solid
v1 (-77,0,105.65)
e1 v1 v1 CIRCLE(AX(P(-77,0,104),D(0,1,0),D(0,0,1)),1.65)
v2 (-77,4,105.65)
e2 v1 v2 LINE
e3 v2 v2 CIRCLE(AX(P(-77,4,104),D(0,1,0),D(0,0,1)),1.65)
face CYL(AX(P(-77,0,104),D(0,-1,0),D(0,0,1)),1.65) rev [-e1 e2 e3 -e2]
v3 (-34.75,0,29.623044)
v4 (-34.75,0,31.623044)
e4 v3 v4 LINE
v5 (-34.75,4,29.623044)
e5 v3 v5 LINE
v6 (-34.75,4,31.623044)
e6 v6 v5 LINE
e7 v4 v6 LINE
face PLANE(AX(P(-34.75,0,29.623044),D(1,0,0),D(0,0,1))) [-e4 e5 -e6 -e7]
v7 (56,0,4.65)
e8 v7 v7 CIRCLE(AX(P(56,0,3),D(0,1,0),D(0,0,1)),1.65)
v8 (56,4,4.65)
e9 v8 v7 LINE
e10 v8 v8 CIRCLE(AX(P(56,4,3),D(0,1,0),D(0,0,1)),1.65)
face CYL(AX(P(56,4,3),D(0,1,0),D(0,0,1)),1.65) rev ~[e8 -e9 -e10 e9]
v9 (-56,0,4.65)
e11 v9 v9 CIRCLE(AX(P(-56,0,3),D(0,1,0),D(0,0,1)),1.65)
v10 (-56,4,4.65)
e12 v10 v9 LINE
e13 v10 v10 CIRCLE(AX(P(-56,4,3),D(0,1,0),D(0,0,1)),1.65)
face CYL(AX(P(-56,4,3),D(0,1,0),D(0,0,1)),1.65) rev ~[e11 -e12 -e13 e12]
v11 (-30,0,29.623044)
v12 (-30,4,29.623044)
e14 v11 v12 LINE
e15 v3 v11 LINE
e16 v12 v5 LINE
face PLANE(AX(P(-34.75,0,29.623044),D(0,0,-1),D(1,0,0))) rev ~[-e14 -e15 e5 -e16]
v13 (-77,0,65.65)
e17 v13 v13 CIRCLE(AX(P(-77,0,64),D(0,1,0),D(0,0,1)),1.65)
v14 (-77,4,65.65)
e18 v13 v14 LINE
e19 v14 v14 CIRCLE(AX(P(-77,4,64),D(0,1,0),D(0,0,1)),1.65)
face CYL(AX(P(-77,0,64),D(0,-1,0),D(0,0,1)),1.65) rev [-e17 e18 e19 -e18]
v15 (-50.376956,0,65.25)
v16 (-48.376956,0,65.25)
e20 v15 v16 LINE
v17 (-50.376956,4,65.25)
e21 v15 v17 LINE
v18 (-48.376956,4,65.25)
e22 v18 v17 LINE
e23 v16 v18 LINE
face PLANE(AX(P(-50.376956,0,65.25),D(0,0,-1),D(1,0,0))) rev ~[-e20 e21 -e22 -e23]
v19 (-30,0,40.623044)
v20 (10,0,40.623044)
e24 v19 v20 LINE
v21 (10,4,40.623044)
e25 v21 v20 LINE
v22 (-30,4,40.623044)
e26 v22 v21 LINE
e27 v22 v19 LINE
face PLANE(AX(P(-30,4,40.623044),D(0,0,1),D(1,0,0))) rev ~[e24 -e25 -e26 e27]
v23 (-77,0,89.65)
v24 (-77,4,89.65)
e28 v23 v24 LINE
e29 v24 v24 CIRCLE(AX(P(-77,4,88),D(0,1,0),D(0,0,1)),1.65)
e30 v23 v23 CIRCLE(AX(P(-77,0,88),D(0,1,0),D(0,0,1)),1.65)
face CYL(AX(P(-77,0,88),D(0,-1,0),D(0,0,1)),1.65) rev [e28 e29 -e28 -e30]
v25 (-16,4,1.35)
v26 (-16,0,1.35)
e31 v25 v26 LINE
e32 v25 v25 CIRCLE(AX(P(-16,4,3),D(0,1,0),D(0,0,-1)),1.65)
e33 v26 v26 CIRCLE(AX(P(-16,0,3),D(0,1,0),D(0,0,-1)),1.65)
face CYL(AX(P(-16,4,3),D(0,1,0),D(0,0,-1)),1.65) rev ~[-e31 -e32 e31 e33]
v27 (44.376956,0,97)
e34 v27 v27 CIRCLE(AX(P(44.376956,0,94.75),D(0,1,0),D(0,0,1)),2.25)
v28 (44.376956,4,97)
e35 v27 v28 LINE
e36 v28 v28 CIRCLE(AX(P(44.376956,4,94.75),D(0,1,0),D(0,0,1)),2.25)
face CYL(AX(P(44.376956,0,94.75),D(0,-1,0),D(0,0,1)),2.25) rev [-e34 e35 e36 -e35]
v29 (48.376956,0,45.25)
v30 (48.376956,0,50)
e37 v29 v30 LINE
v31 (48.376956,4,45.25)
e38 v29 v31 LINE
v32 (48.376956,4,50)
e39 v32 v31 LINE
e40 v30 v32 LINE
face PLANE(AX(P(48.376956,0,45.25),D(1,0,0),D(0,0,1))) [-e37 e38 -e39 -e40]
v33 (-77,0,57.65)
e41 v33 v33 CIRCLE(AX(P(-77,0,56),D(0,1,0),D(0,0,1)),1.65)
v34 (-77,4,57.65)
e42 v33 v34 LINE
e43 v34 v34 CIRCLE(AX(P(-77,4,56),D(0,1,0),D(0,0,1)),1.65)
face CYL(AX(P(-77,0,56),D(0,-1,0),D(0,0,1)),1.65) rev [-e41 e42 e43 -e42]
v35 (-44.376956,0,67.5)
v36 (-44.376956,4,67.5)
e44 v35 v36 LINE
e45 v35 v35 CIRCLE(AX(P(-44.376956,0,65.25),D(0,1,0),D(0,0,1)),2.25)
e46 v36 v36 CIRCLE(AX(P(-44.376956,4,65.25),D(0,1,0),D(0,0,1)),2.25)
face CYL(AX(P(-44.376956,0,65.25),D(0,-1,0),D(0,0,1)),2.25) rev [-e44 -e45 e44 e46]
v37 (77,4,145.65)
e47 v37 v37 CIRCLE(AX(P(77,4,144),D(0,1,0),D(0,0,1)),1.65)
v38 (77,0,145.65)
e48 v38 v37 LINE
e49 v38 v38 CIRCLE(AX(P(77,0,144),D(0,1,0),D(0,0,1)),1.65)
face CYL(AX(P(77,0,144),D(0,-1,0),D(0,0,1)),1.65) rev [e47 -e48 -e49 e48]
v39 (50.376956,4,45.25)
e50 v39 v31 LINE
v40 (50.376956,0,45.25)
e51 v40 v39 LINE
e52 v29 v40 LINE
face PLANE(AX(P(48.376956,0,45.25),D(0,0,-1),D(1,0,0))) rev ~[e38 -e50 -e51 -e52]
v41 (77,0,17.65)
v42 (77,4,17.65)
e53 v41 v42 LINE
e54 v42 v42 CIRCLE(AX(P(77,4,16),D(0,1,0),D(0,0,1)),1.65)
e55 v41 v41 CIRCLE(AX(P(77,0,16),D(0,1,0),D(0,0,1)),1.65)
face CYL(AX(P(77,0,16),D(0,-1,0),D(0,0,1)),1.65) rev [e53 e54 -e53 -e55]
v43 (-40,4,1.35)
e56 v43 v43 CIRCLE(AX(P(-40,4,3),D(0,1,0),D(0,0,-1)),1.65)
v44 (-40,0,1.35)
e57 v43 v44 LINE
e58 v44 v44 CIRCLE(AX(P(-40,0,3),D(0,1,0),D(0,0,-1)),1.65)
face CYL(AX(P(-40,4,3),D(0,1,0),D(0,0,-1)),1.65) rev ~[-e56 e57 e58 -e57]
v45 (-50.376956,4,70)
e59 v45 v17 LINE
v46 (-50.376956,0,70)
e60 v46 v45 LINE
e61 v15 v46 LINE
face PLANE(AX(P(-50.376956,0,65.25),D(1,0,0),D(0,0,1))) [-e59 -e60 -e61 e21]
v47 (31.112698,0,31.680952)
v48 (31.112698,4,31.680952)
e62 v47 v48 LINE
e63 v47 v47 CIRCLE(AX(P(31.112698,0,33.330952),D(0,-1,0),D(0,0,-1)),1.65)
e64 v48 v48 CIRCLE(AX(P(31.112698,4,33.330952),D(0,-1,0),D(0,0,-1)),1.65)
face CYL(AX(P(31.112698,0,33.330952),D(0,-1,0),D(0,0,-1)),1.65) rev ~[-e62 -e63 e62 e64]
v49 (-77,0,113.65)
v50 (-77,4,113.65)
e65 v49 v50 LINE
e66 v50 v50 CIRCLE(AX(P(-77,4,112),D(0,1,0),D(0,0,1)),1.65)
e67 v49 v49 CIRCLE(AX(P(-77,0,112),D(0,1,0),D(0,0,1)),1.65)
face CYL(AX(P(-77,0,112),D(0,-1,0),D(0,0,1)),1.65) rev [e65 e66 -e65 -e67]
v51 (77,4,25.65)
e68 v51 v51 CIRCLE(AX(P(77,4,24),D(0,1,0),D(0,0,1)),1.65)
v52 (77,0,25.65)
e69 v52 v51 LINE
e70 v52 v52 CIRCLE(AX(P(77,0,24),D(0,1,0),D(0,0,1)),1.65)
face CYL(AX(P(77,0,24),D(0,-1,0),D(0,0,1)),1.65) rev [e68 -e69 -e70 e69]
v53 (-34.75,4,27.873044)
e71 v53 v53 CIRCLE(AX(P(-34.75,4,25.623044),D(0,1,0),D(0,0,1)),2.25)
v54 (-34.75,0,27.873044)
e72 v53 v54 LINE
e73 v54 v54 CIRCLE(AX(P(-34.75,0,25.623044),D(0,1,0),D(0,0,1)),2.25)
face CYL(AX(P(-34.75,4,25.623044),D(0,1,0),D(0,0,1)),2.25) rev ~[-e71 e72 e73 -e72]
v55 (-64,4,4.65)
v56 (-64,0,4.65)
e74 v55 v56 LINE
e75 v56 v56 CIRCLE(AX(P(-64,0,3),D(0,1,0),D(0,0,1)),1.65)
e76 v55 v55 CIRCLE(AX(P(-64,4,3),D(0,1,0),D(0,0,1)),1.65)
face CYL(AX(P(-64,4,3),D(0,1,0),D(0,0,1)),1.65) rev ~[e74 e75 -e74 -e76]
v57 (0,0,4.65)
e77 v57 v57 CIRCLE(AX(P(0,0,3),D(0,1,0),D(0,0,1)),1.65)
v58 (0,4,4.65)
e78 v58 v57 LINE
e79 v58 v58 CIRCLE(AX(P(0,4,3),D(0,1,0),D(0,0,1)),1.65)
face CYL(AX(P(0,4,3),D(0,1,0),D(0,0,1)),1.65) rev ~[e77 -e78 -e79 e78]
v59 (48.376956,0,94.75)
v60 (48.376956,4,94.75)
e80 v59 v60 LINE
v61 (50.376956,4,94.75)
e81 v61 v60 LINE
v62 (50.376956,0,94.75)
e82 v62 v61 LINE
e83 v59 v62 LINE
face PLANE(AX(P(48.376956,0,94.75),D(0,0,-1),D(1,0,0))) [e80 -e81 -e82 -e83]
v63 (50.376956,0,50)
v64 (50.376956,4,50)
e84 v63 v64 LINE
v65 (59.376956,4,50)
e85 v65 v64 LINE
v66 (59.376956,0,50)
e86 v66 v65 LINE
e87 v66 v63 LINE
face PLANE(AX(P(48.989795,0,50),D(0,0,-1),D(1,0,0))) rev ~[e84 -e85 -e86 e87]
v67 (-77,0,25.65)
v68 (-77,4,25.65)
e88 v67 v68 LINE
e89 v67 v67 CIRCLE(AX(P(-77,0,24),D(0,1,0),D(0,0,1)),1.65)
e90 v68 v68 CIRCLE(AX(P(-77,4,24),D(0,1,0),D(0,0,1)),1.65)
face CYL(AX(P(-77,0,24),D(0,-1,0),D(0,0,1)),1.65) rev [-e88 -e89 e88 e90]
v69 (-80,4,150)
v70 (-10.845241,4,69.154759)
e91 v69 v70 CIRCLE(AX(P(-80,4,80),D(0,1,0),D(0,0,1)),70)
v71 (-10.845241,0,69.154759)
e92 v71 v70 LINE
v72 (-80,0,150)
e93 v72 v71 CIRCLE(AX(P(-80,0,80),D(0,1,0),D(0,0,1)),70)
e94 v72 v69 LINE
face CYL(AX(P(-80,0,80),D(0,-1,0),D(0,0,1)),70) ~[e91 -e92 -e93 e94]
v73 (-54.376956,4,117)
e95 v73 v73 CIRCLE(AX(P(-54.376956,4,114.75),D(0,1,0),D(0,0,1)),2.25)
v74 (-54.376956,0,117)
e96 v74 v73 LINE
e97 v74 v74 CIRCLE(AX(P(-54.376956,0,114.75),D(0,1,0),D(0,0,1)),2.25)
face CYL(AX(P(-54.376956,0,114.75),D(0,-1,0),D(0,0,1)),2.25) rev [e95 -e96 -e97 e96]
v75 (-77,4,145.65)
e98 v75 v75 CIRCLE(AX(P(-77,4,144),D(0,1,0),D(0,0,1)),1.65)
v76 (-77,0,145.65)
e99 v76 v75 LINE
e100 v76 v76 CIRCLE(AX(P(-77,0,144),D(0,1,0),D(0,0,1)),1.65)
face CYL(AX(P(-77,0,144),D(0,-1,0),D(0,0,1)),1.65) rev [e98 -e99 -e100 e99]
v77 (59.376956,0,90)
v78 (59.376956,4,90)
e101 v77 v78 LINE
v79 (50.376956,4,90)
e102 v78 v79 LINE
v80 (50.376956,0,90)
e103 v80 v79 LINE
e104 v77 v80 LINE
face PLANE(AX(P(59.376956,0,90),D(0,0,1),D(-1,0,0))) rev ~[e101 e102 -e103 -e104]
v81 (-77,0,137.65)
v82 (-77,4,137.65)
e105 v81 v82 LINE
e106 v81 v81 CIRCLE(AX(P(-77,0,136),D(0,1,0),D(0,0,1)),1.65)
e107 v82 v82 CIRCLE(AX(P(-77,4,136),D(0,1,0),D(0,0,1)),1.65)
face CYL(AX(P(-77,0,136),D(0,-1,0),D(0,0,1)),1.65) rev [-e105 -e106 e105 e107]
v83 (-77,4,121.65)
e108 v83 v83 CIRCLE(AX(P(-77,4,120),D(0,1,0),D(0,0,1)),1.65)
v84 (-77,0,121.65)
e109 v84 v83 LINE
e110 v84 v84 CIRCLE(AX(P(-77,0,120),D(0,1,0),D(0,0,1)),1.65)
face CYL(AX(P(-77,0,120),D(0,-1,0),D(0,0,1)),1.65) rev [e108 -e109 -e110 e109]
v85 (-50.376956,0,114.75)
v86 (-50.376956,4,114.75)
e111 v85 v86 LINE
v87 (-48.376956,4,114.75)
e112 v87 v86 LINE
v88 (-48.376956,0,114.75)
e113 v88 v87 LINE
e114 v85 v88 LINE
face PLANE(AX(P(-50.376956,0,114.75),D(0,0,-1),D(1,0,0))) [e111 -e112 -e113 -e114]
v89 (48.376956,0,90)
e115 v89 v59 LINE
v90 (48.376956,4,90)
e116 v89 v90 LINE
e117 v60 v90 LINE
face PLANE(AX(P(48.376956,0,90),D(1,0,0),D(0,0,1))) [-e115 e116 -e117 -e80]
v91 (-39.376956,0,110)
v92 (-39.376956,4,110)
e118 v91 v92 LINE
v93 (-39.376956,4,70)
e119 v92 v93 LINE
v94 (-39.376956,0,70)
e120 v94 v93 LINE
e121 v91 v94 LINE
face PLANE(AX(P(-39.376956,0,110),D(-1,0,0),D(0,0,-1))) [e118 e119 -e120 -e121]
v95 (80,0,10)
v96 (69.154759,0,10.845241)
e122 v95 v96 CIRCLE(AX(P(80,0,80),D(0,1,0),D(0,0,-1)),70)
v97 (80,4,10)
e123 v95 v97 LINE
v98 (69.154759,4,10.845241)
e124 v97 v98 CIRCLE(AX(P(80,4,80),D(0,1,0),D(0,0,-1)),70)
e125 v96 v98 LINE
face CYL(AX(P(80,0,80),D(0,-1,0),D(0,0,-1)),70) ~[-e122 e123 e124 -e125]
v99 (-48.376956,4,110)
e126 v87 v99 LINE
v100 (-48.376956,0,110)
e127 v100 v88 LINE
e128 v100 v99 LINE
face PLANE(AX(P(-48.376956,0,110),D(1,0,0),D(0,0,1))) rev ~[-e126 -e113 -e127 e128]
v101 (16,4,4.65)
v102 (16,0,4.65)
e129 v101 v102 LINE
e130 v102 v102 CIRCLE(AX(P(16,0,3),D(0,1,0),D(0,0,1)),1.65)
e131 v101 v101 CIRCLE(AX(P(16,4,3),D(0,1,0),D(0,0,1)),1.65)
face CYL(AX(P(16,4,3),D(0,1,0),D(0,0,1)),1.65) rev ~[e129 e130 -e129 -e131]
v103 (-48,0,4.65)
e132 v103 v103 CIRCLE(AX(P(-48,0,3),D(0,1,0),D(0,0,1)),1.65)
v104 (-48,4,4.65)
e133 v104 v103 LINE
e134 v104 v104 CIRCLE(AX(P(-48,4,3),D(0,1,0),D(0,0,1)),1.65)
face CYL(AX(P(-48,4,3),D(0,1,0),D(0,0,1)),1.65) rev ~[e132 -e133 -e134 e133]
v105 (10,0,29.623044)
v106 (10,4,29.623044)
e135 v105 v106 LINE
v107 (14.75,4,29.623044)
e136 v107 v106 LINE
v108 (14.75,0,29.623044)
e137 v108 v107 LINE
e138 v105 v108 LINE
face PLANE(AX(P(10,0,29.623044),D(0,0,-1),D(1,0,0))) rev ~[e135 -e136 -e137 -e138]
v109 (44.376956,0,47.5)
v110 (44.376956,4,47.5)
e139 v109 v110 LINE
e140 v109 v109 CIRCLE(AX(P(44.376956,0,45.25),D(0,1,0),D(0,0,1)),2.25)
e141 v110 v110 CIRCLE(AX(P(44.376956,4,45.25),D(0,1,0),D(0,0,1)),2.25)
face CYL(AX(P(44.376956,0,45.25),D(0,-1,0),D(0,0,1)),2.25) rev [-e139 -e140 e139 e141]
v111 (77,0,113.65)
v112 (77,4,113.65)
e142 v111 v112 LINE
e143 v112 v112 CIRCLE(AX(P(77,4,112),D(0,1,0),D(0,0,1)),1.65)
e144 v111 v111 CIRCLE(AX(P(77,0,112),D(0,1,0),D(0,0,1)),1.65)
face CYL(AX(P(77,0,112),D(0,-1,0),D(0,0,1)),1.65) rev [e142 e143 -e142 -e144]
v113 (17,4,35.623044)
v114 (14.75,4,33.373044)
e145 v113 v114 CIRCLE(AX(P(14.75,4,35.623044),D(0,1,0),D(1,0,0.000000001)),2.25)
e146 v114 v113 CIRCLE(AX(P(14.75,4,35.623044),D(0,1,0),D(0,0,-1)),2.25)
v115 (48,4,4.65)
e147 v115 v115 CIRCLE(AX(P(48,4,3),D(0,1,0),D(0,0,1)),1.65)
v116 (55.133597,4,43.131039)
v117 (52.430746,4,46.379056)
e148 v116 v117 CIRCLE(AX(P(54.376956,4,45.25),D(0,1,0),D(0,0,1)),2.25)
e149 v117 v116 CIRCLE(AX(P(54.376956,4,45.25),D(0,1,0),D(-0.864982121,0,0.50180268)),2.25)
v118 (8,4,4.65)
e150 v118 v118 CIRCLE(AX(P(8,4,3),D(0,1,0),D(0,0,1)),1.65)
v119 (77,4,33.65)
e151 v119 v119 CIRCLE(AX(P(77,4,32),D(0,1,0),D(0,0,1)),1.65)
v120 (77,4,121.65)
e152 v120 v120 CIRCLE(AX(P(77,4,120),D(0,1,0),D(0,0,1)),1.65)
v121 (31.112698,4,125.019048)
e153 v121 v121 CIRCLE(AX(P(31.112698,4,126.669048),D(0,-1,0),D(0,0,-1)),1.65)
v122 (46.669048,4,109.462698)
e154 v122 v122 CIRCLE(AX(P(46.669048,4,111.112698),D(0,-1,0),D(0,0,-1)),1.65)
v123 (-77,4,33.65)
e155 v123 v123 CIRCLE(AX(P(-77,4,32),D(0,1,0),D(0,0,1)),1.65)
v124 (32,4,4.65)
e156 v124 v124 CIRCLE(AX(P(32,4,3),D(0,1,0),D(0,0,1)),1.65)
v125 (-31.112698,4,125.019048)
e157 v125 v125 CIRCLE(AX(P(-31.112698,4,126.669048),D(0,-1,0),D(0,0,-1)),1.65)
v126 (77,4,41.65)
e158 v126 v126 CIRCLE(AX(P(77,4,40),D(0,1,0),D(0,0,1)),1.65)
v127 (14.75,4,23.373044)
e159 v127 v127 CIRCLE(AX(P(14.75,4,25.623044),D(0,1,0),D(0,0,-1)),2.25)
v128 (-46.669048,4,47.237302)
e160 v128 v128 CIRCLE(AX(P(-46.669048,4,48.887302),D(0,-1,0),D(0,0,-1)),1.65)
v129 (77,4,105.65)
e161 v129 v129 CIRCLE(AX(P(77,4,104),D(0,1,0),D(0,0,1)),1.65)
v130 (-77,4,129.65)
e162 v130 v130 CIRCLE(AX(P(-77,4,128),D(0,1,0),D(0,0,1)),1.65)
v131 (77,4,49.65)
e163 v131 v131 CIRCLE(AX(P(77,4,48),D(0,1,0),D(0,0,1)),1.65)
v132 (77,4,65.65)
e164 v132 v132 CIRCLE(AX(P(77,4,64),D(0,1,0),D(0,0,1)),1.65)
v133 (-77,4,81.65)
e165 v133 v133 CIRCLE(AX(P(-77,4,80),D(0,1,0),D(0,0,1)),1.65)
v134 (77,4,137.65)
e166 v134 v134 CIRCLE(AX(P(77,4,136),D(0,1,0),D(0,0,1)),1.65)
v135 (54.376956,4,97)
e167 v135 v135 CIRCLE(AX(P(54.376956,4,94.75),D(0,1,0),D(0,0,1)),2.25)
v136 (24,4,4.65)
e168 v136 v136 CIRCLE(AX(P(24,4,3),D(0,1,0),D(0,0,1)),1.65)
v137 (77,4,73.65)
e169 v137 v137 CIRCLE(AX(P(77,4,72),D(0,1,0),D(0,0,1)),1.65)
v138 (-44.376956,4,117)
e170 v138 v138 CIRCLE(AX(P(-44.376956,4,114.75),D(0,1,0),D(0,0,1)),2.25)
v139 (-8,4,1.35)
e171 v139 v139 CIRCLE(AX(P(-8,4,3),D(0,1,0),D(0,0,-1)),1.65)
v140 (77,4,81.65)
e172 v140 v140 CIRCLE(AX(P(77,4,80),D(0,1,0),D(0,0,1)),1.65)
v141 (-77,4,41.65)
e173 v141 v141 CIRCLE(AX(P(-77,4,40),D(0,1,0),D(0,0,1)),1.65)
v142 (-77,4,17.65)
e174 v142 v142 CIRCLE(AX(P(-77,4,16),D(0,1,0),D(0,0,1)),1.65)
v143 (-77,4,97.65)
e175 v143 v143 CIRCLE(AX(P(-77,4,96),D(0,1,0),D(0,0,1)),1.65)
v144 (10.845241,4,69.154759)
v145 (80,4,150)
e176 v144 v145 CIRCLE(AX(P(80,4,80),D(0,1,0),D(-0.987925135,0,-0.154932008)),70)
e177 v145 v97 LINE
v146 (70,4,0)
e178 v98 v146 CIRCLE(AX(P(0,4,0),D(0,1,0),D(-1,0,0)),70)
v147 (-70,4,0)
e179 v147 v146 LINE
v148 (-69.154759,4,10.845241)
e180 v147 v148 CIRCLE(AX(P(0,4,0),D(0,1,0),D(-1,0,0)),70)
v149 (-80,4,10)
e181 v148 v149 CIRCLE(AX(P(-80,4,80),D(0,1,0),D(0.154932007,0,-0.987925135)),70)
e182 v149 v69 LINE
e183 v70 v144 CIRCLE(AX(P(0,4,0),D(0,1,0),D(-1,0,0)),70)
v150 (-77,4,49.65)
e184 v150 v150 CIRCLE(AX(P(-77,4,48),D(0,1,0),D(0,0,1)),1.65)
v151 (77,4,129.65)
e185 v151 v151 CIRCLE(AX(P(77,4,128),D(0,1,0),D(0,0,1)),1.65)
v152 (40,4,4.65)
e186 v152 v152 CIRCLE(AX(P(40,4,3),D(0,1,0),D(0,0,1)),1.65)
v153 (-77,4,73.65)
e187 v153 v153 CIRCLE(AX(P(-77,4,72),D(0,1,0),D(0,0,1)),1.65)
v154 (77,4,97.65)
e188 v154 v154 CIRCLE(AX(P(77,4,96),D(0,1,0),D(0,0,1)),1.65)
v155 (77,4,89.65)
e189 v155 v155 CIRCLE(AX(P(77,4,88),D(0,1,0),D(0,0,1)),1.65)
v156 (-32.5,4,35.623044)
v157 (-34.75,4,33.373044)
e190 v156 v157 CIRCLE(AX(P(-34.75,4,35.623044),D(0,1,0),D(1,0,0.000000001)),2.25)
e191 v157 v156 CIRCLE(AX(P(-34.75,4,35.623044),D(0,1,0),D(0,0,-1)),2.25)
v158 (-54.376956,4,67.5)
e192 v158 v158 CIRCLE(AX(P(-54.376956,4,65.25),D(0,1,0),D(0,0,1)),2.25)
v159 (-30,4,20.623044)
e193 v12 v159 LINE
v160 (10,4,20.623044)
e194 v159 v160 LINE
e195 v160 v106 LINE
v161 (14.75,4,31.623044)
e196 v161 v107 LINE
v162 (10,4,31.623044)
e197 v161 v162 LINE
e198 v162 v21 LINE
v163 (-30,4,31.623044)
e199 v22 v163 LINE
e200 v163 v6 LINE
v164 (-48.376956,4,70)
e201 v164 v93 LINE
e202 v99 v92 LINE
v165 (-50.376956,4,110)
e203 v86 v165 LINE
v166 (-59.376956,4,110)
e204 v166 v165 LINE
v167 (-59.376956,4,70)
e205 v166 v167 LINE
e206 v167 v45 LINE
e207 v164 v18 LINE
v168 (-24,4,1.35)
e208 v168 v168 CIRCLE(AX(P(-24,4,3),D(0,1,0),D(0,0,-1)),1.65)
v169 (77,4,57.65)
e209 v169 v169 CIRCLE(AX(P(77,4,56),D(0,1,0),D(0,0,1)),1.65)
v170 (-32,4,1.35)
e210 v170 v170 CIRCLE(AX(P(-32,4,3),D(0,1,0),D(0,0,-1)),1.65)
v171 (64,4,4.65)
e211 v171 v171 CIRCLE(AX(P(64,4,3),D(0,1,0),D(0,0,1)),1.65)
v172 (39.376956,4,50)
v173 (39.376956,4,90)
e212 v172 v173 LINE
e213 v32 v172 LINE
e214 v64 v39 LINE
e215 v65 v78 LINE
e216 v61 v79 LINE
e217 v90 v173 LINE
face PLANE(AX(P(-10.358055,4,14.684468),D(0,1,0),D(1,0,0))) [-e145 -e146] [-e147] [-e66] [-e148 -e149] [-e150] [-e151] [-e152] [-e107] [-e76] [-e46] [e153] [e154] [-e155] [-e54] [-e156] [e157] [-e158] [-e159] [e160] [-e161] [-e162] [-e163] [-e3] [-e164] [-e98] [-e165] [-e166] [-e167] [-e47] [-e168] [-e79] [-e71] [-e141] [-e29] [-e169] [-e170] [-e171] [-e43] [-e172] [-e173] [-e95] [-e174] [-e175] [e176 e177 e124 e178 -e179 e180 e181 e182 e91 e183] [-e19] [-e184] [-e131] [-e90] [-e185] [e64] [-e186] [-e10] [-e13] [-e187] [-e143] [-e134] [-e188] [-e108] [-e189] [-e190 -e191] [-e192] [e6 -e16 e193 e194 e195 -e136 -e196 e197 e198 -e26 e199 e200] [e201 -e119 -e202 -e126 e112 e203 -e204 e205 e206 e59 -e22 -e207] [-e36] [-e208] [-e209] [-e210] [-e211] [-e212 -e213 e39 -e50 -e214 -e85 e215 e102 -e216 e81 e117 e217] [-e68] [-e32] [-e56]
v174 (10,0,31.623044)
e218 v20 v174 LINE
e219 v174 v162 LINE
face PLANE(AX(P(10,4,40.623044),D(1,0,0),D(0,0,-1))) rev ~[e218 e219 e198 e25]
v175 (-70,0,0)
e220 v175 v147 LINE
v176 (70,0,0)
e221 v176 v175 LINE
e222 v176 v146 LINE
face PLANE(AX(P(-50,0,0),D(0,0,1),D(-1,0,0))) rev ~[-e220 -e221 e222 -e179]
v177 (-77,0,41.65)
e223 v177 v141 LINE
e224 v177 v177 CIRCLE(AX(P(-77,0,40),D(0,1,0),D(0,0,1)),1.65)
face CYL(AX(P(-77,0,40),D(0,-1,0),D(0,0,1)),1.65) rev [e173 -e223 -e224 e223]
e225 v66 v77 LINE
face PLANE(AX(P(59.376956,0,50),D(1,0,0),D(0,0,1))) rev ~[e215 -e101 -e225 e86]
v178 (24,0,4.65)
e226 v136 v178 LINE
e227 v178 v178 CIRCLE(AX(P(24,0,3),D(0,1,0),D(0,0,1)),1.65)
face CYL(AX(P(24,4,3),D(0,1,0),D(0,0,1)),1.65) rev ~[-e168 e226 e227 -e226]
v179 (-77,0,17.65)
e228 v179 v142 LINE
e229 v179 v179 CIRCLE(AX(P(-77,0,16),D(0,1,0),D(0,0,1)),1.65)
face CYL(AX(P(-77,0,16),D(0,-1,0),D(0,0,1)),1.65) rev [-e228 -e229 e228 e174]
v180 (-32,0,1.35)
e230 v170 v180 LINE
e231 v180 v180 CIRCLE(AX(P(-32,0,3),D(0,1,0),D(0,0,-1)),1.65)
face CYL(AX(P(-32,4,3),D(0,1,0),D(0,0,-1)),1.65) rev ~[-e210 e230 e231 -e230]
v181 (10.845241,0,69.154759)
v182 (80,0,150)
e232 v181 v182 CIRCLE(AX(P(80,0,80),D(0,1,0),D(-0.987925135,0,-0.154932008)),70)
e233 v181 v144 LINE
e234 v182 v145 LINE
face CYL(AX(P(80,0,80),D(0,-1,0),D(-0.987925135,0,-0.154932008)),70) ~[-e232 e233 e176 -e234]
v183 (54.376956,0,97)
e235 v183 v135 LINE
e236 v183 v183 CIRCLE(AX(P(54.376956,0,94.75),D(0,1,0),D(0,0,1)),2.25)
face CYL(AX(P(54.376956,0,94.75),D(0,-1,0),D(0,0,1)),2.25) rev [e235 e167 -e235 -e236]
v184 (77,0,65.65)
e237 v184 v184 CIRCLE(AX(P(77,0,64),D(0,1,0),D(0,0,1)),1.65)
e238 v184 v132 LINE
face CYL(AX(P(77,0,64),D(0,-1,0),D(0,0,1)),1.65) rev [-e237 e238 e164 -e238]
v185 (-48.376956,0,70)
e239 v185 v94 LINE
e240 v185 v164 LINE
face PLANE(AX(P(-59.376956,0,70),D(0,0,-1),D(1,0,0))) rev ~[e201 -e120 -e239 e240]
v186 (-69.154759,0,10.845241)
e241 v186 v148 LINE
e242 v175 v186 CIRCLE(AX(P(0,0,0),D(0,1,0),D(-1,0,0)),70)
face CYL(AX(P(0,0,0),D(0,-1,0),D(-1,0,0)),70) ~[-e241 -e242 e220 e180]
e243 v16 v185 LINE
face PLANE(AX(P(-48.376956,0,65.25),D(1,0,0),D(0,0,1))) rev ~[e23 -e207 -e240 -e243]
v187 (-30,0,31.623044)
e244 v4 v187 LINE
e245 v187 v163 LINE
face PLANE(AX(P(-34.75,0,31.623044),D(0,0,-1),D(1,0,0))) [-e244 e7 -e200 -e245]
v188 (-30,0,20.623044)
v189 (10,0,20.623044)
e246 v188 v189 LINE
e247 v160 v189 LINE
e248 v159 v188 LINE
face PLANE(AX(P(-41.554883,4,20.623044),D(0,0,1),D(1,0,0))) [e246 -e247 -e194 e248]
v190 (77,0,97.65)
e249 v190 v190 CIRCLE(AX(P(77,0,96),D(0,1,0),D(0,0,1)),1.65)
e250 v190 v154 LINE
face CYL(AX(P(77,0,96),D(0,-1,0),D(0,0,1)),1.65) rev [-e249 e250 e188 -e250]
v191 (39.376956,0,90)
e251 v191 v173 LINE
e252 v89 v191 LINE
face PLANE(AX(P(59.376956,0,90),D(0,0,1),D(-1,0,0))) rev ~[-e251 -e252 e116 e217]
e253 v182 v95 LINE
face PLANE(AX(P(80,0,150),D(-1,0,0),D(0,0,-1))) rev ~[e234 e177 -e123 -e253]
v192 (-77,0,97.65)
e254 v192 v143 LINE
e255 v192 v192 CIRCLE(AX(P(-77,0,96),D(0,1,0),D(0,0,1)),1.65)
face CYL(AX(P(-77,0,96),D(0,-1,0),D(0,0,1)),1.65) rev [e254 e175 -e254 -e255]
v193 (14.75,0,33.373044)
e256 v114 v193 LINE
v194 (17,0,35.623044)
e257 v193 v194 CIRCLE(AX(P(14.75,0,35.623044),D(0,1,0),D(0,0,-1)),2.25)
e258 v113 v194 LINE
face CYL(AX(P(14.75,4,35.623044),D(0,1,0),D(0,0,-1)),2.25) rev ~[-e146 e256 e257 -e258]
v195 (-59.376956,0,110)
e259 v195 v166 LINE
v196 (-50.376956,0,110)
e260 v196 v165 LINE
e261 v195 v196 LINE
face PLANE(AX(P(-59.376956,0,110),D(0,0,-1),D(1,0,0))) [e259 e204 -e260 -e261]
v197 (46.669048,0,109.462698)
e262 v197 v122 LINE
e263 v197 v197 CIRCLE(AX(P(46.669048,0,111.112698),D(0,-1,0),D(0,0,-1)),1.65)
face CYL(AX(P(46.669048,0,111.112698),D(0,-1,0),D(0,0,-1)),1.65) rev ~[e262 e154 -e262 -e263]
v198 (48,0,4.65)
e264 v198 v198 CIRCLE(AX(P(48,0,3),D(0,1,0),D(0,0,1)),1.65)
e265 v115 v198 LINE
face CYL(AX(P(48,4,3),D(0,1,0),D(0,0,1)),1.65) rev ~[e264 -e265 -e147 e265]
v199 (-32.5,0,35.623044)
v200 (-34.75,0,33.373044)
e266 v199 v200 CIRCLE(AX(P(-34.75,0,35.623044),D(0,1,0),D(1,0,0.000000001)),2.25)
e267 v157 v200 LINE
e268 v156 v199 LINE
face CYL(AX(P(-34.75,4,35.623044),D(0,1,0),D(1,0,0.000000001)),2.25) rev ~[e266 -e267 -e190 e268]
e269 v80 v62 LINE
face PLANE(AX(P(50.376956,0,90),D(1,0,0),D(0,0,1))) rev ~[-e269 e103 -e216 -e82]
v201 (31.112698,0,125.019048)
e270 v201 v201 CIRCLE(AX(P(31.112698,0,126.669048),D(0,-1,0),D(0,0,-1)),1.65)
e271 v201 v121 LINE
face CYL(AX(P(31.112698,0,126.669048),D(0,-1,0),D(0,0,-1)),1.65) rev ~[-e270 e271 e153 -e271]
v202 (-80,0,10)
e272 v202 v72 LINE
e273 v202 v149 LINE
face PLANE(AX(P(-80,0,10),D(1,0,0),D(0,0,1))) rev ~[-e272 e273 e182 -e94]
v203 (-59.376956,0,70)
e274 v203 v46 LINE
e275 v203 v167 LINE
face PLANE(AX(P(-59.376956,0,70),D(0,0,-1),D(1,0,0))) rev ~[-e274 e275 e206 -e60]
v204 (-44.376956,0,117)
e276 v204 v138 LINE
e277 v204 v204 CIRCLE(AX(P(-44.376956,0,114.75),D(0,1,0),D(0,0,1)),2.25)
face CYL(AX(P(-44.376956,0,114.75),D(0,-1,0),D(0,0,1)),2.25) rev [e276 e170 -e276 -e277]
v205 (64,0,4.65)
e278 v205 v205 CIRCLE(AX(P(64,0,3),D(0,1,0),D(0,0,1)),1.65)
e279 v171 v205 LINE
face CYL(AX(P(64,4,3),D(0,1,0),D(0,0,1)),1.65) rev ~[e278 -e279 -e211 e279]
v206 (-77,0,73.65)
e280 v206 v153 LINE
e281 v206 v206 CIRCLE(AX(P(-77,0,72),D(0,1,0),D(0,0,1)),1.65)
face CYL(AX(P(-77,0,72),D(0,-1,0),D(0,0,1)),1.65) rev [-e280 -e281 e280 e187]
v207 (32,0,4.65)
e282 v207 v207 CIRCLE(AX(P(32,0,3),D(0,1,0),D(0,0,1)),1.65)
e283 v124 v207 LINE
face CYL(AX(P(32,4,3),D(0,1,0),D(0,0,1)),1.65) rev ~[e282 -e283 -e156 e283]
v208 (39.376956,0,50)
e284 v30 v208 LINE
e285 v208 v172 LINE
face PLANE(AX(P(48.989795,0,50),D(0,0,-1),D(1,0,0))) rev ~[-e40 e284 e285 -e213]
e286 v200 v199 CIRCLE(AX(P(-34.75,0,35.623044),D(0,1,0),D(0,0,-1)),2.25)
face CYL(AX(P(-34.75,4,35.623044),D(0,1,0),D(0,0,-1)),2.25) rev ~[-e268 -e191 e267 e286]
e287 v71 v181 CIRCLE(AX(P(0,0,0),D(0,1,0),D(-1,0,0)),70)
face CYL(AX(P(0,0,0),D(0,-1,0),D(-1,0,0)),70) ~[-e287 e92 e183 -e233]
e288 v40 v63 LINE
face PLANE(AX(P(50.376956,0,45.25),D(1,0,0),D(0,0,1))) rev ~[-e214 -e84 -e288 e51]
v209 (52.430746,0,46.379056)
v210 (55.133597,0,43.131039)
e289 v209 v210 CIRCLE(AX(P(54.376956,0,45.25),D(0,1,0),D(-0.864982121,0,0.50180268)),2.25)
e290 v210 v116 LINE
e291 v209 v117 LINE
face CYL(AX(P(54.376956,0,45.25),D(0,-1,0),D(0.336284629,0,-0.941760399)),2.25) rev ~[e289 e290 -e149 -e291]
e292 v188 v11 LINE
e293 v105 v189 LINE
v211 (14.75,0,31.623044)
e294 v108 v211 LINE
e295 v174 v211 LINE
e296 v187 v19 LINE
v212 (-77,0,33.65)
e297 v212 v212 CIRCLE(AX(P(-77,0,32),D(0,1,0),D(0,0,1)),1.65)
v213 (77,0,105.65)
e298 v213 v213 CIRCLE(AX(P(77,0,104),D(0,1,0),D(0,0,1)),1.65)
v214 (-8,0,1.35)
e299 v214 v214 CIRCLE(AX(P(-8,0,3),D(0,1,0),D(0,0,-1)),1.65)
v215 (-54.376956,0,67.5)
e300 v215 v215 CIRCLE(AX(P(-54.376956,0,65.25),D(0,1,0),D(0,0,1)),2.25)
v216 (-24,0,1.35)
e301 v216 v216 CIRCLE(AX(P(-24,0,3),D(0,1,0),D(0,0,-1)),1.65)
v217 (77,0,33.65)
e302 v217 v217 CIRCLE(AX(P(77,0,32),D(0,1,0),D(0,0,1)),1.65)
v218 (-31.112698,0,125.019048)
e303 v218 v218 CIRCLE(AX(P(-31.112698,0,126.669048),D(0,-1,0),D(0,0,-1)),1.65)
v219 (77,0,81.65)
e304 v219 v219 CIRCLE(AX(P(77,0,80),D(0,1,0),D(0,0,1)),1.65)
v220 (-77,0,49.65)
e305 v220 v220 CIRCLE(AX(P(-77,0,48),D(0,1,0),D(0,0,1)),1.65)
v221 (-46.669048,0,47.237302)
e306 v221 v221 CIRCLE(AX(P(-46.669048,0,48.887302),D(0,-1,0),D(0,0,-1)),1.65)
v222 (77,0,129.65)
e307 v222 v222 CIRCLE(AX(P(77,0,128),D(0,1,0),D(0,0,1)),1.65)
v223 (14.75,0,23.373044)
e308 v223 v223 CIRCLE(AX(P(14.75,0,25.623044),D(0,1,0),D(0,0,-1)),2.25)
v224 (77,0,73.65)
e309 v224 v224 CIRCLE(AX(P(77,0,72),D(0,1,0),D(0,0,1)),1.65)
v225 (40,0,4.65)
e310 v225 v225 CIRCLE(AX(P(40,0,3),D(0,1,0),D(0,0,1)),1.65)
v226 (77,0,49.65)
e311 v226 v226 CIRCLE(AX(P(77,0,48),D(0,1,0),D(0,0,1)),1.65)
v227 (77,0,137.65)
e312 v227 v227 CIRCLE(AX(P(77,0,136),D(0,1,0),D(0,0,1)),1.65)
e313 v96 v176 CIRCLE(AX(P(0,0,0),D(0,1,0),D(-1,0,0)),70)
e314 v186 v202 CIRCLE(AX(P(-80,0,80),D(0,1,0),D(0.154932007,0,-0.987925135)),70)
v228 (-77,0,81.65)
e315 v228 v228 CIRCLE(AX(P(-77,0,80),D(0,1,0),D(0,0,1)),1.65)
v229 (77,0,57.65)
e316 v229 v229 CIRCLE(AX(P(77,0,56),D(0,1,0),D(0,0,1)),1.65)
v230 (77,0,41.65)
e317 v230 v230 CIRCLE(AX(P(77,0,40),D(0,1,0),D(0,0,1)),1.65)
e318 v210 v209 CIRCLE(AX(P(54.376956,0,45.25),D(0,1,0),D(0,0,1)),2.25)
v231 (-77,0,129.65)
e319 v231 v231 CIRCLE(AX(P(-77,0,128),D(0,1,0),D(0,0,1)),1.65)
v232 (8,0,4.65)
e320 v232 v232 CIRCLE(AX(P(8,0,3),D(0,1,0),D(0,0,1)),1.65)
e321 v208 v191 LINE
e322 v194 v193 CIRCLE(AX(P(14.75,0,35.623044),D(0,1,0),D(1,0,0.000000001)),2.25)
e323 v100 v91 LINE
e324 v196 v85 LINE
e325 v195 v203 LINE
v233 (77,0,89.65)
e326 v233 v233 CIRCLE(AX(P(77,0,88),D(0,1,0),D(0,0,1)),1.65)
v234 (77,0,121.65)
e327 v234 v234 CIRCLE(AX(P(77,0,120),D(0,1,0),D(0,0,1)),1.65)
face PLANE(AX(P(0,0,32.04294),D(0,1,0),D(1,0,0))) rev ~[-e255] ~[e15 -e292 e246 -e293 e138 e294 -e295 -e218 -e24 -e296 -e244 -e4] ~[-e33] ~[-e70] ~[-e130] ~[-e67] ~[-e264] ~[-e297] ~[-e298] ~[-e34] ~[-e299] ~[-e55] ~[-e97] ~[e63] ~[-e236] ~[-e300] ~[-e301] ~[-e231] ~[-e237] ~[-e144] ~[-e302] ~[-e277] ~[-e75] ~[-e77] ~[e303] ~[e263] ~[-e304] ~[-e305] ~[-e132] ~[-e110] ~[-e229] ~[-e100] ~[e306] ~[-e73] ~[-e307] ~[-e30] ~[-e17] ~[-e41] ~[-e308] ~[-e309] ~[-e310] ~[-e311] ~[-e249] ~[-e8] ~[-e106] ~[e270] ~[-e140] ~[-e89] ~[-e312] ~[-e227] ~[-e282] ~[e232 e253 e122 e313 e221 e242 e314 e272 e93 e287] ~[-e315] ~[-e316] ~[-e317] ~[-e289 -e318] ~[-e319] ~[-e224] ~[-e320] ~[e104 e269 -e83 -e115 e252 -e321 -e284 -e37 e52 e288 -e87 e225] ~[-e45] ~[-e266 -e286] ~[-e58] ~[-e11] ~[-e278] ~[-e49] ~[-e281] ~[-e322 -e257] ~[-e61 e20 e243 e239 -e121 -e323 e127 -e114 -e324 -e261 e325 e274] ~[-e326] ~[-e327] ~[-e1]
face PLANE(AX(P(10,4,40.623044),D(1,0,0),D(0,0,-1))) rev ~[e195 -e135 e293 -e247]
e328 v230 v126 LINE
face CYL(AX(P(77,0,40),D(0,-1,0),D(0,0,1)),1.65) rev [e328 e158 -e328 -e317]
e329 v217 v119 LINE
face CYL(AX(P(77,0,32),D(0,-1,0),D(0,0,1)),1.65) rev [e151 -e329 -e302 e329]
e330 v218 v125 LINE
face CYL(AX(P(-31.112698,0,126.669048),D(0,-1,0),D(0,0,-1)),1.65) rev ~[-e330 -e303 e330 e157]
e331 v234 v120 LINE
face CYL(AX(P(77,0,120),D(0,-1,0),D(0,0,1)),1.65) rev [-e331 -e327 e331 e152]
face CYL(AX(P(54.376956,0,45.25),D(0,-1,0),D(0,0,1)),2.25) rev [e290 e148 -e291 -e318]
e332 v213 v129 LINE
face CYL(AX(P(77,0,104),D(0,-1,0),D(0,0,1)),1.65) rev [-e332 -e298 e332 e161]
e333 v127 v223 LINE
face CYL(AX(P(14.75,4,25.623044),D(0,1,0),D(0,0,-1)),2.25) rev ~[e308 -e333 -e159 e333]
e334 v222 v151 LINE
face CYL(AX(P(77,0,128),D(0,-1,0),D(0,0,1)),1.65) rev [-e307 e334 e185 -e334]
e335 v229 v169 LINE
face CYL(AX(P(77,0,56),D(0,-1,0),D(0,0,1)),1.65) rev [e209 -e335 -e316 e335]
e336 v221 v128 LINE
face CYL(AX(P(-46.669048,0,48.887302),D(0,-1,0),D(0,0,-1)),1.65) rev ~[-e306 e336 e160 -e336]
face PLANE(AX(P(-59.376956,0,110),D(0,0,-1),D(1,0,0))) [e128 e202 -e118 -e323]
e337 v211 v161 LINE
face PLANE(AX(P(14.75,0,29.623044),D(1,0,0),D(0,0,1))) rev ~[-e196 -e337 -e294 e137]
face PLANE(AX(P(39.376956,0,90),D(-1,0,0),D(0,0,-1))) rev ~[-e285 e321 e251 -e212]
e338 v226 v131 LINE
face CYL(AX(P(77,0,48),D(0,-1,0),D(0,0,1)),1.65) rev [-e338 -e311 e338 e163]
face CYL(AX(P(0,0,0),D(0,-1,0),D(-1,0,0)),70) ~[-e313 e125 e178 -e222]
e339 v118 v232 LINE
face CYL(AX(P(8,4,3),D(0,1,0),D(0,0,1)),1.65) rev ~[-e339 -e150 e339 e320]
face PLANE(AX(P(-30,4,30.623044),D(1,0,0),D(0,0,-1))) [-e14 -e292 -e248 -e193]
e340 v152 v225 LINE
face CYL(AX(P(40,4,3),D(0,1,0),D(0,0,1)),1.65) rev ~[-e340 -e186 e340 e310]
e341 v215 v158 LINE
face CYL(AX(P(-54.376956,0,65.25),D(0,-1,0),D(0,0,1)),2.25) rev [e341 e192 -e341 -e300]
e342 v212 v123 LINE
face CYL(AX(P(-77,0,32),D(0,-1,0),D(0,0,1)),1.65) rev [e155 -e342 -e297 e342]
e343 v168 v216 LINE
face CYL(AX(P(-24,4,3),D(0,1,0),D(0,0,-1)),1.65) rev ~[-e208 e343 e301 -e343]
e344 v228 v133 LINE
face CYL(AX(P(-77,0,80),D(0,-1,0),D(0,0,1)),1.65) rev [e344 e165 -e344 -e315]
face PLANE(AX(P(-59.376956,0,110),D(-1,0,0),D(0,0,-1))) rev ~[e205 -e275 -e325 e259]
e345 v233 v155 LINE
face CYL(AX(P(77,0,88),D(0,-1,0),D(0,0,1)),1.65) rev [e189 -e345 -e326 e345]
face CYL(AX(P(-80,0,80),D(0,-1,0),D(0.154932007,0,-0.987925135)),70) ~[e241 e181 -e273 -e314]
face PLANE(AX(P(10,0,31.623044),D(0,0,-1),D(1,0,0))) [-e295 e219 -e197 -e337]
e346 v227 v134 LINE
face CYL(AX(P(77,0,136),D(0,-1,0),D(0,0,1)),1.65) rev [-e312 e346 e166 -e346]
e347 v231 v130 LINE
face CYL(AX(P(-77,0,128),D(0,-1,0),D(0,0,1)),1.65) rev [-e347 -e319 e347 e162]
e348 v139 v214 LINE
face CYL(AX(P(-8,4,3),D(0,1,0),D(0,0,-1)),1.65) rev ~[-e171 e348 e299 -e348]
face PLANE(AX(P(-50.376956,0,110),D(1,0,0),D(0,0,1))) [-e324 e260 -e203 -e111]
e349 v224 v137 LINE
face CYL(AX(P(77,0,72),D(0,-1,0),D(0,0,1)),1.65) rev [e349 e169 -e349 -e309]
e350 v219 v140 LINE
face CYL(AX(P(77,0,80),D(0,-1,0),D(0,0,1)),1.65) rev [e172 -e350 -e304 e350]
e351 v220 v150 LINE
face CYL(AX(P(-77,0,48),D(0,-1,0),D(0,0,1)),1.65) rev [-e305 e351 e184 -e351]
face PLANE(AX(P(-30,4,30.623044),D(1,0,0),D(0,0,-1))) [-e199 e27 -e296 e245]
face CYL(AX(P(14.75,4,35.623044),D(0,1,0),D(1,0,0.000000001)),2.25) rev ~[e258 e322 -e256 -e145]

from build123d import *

# Parameters (mm, degrees)
EXTRUDE_1_DEPTH      = 4
CUT_EXTRUDE_1_DEPTH  = 10
SKETCH_3_R           = 2.25
CUT_EXTRUDE_2_DEPTH  = 10
SKETCH_4_R           = 1.65
CUT_EXTRUDE_3_DEPTH  = 10
EXTRUDE_START        = -4
EXTRUDE_2_DEPTH      = 4
SKETCH_6_R           = 1.65
CUT_EXTRUDE_4_DEPTH  = 4
SKETCH_7_W           = 40
SKETCH_7_H           = 10
CUT_EXTRUDE_5_DEPTH  = 4
EXTRUDE_4_DEPTH      = 4
SKETCH_9_R           = 1.65
SKETCH_9_R_2         = 2.25
SKETCH_9_W           = 20
SKETCH_9_H           = 40
EXTRUDE_7_DEPTH      = 4
CUT_EXTRUDE_START    = -4
SKETCH_10_R          = 2.25
SKETCH_10_W          = 20
SKETCH_10_H          = 40
CUT_EXTRUDE_6_DEPTH  = 4
SKETCH_11_W          = 4.75
SKETCH_11_H          = 2
SKETCH_11_W_2        = 2
SKETCH_11_H_2        = 4.75
CUT_EXTRUDE_9_DEPTH  = 10
SKETCH_12_R          = 1.65
CUT_EXTRUDE_10_DEPTH = 10


with BuildPart() as part:
    # 草图1 → 凸台-拉伸1 (new body)
    with BuildSketch(Plane(origin=(0, 0, 0), x_dir=(1, 0, 0), z_dir=(0, 1, 0))):
        with BuildLine():
            Line((-50, 0), (50, 0))
            ThreePointArc((50, 0), (0, -50), (-50, 0))
        make_face()
    extrude(amount=EXTRUDE_1_DEPTH)

    # 草图2 → 切除-拉伸1 (cut)
    with BuildSketch(Plane(origin=(0, 4, 0), x_dir=(1, 0, 0), z_dir=(0, 1, 0))):
        Polygon((0, -10.623043888), (10, -10.623043888), (10, -30.623043888), (-30, -30.623043888), (-30, -10.623043888), align=None)
    extrude(amount=-CUT_EXTRUDE_1_DEPTH, mode=Mode.SUBTRACT)

    # 草图3 → 切除-拉伸2 (cut)
    with BuildSketch(Plane(origin=(0, 4, 0), x_dir=(1, 0, 0), z_dir=(0, 1, 0))):
        with Locations(Location((-34.75, -15.623043888, 0), (0, 0, 270))):
            Circle(SKETCH_3_R)
        with Locations(Location((-34.75, -25.623043888, 0), (0, 0, 270))):
            Circle(SKETCH_3_R)
        with Locations(Location((14.75, -25.623043888, 0), (0, 0, 90))):
            Circle(SKETCH_3_R)
        with Locations(Location((14.75, -15.623043888, 0), (0, 0, 90))):
            Circle(SKETCH_3_R)
    extrude(amount=-CUT_EXTRUDE_2_DEPTH, mode=Mode.SUBTRACT)

    # 草图4 → 切除-拉伸3 (cut)
    with BuildSketch(Plane(origin=(0, 4, 0), x_dir=(1, 0, 0), z_dir=(0, 1, 0))):
        with Locations(Location((0, -3, 0), (0, 0, 270))):
            Circle(SKETCH_4_R)
        with Locations(Location((8, -3, 0), (0, 0, 270))):
            Circle(SKETCH_4_R)
        with Locations(Location((16, -3, 0), (0, 0, 270))):
            Circle(SKETCH_4_R)
        with Locations(Location((24, -3, 0), (0, 0, 270))):
            Circle(SKETCH_4_R)
        with Locations(Location((32, -3, 0), (0, 0, 270))):
            Circle(SKETCH_4_R)
        with Locations(Location((40, -3, 0), (0, 0, 270))):
            Circle(SKETCH_4_R)
        with Locations(Location((-40, -3, 0), (0, 0, 90))):
            Circle(SKETCH_4_R)
        with Locations(Location((-32, -3, 0), (0, 0, 90))):
            Circle(SKETCH_4_R)
        with Locations(Location((-24, -3, 0), (0, 0, 90))):
            Circle(SKETCH_4_R)
        with Locations(Location((-16, -3, 0), (0, 0, 90))):
            Circle(SKETCH_4_R)
        with Locations(Location((-8, -3, 0), (0, 0, 90))):
            Circle(SKETCH_4_R)
    extrude(amount=-CUT_EXTRUDE_3_DEPTH, mode=Mode.SUBTRACT)

    # 草图5 → 凸台-拉伸2 (add)
    with BuildSketch(Plane(origin=(0, 4, 0), x_dir=(1, 0, 0), z_dir=(0, 1, 0)).offset(EXTRUDE_START)):
        with BuildLine():
            Line((-50, 0), (-70, 0))
            ThreePointArc((-70, 0), (0, -70), (70, 0))
            Line((70, 0), (50, 0))
            ThreePointArc((50, 0), (0, -50), (-50, 0))
        make_face()
    extrude(amount=EXTRUDE_2_DEPTH)

    # 草图6 → 切除-拉伸4 (cut)
    with BuildSketch(Plane(origin=(0, 4, 0), x_dir=(1, 0, 0), z_dir=(0, 1, 0))):
        with Locations(Location((0, -3, 0), (0, 0, 270))):
            Circle(SKETCH_6_R)
        with Locations(Location((8, -3, 0), (0, 0, 270))):
            Circle(SKETCH_6_R)
        with Locations(Location((16, -3, 0), (0, 0, 270))):
            Circle(SKETCH_6_R)
        with Locations(Location((24, -3, 0), (0, 0, 270))):
            Circle(SKETCH_6_R)
        with Locations(Location((32, -3, 0), (0, 0, 270))):
            Circle(SKETCH_6_R)
        with Locations(Location((40, -3, 0), (0, 0, 270))):
            Circle(SKETCH_6_R)
        with Locations(Location((48, -3, 0), (0, 0, 270))):
            Circle(SKETCH_6_R)
        with Locations(Location((56, -3, 0), (0, 0, 270))):
            Circle(SKETCH_6_R)
        with Locations(Location((64, -3, 0), (0, 0, 270))):
            Circle(SKETCH_6_R)
        with Locations(Location((-8, -3, 0), (0, 0, 90))):
            Circle(SKETCH_6_R)
        with Locations(Location((-16, -3, 0), (0, 0, 90))):
            Circle(SKETCH_6_R)
        with Locations(Location((-24, -3, 0), (0, 0, 90))):
            Circle(SKETCH_6_R)
        with Locations(Location((-32, -3, 0), (0, 0, 90))):
            Circle(SKETCH_6_R)
        with Locations(Location((-40, -3, 0), (0, 0, 90))):
            Circle(SKETCH_6_R)
        with Locations(Location((-48, -3, 0), (0, 0, 270))):
            Circle(SKETCH_6_R)
        with Locations(Location((-56, -3, 0), (0, 0, 270))):
            Circle(SKETCH_6_R)
        with Locations(Location((-64, -3, 0), (0, 0, 270))):
            Circle(SKETCH_6_R)
    extrude(amount=-CUT_EXTRUDE_4_DEPTH, mode=Mode.SUBTRACT)

    # 草图7 → 切除-拉伸5 (cut)
    with BuildSketch(Plane(origin=(0, 4, 0), x_dir=(1, 0, 0), z_dir=(0, 1, 0))):
        with Locations((-10, -25.623043888)):
            Rectangle(SKETCH_7_W, SKETCH_7_H)
        with Locations((-10, -35.623043888)):
            Rectangle(SKETCH_7_W, SKETCH_7_H)
        with BuildLine():
            ThreePointArc((17, -35.623043888), (16.340990258, -34.03205363), (14.75, -33.373043888))
            ThreePointArc((14.75, -33.373043888), (13.159009742, -37.214034146), (17, -35.623043888))
        make_face()
        with BuildLine():
            ThreePointArc((-32.5, -35.623043888), (-33.159009742, -34.03205363), (-34.75, -33.373043888))
            ThreePointArc((-34.75, -33.373043888), (-36.340990258, -37.214034146), (-32.5, -35.623043888))
        make_face()
    extrude(amount=-CUT_EXTRUDE_5_DEPTH, mode=Mode.SUBTRACT)

    # 草图8 → 凸台-拉伸4 (add)
    with BuildSketch(Plane(origin=(0, 4, 0), x_dir=(1, 0, 0), z_dir=(0, 1, 0))):
        Polygon((-41.554882874, -20.623043888), (14.75, -20.623043888), (21.040870392, -20.623043888), (21.040870392, -8.98726117), (-41.554882874, -8.5063719), align=None)
    extrude(amount=-EXTRUDE_4_DEPTH)

    # 草图9 → 凸台-拉伸7 (add)
    # profile 1 of 2: a face of its own
    with BuildSketch(Plane(origin=(0, 4, 0), x_dir=(1, 0, 0), z_dir=(0, 1, 0)).offset(EXTRUDE_START)):
        with BuildLine():
            ThreePointArc((-80, -150), (-26.806171238, -125.50183053), (-10.845240526, -69.154759474))
            ThreePointArc((-10.845240526, -69.154759474), (-49.497474683, -49.497474683), (-69.154759474, -10.845240526))
            ThreePointArc((-69.154759474, -10.845240526), (-74.560935889, -10.211630041), (-80, -10))
            Line((-80, -10), (-80, -150))
        make_face()
        with Locations(Location((-77, -144, 0), (0, 0, 270))):
            Circle(SKETCH_9_R, mode=Mode.SUBTRACT)
        with Locations(Location((-77, -136, 0), (0, 0, 270))):
            Circle(SKETCH_9_R, mode=Mode.SUBTRACT)
        with Locations(Location((-77, -128, 0), (0, 0, 270))):
            Circle(SKETCH_9_R, mode=Mode.SUBTRACT)
        with Locations(Location((-77, -120, 0), (0, 0, 270))):
            Circle(SKETCH_9_R, mode=Mode.SUBTRACT)
        with Locations(Location((-54.376956112, -114.75, 0), (0, 0, 270))):
            Circle(SKETCH_9_R_2, mode=Mode.SUBTRACT)
        with Locations(Location((-44.376956112, -114.75, 0), (0, 0, 270))):
            Circle(SKETCH_9_R_2, mode=Mode.SUBTRACT)
        with Locations(Location((-77, -112, 0), (0, 0, 270))):
            Circle(SKETCH_9_R, mode=Mode.SUBTRACT)
        with Locations(Location((-77, -104, 0), (0, 0, 270))):
            Circle(SKETCH_9_R, mode=Mode.SUBTRACT)
        with Locations(Location((-77, -96, 0), (0, 0, 270))):
            Circle(SKETCH_9_R, mode=Mode.SUBTRACT)
        with Locations(Location((-77, -88, 0), (0, 0, 270))):
            Circle(SKETCH_9_R, mode=Mode.SUBTRACT)
        with Locations(Location((-77, -80, 0), (0, 0, 270))):
            Circle(SKETCH_9_R, mode=Mode.SUBTRACT)
        with Locations((-49.376956112, -90)):
            Rectangle(SKETCH_9_W, SKETCH_9_H, mode=Mode.SUBTRACT)
        with Locations(Location((-77, -72, 0), (0, 0, 270))):
            Circle(SKETCH_9_R, mode=Mode.SUBTRACT)
        with Locations(Location((-77, -64, 0), (0, 0, 270))):
            Circle(SKETCH_9_R, mode=Mode.SUBTRACT)
        with Locations(Location((-54.376956112, -65.25, 0), (0, 0, 270))):
            Circle(SKETCH_9_R_2, mode=Mode.SUBTRACT)
        with Locations(Location((-44.376956112, -65.25, 0), (0, 0, 270))):
            Circle(SKETCH_9_R_2, mode=Mode.SUBTRACT)
        with Locations(Location((-77, -56, 0), (0, 0, 270))):
            Circle(SKETCH_9_R, mode=Mode.SUBTRACT)
        with Locations(Location((-77, -48, 0), (0, 0, 270))):
            Circle(SKETCH_9_R, mode=Mode.SUBTRACT)
        with Locations(Location((-77, -40, 0), (0, 0, 270))):
            Circle(SKETCH_9_R, mode=Mode.SUBTRACT)
        with Locations(Location((-77, -32, 0), (0, 0, 270))):
            Circle(SKETCH_9_R, mode=Mode.SUBTRACT)
        with Locations(Location((-77, -24, 0), (0, 0, 270))):
            Circle(SKETCH_9_R, mode=Mode.SUBTRACT)
        with Locations(Location((-77, -16, 0), (0, 0, 270))):
            Circle(SKETCH_9_R, mode=Mode.SUBTRACT)
    # profile 2 of 2: a face of its own
    with BuildSketch(Plane(origin=(0, 4, 0), x_dir=(1, 0, 0), z_dir=(0, 1, 0)).offset(EXTRUDE_START)):
        with BuildLine():
            ThreePointArc((39.376956112, -57.874479068), (25.73671386, -65.097016519), (10.845240526, -69.154759474))
            ThreePointArc((10.845240526, -69.154759474), (26.806171238, -125.50183053), (80, -150))
            Line((80, -150), (80, -80))
            Line((80, -80), (80, -10))
            ThreePointArc((80, -10), (74.560935889, -10.211630041), (69.154759474, -10.845240526))
            ThreePointArc((69.154759474, -10.845240526), (64.206635613, -27.883829422), (55.133596526, -43.131039103))
            ThreePointArc((55.133596526, -43.131039103), (56.106456706, -46.689210789), (52.430746339, -46.379056031))
            ThreePointArc((52.430746339, -46.379056031), (50.742579289, -48.220230683), (48.989794856, -50))
            Line((48.989794856, -50), (59.376956112, -50))
            Line((59.376956112, -50), (59.376956112, -90))
            Line((59.376956112, -90), (39.376956112, -90))
            Line((39.376956112, -90), (39.376956112, -57.874479068))
        make_face()
        with Locations(Location((77, -144, 0), (0, 0, 270))):
            Circle(SKETCH_9_R, mode=Mode.SUBTRACT)
        with Locations(Location((77, -136, 0), (0, 0, 270))):
            Circle(SKETCH_9_R, mode=Mode.SUBTRACT)
        with Locations(Location((77, -128, 0), (0, 0, 270))):
            Circle(SKETCH_9_R, mode=Mode.SUBTRACT)
        with Locations(Location((77, -120, 0), (0, 0, 270))):
            Circle(SKETCH_9_R, mode=Mode.SUBTRACT)
        with Locations(Location((44.376956112, -94.75, 0), (0, 0, 270))):
            Circle(SKETCH_9_R_2, mode=Mode.SUBTRACT)
        with Locations(Location((54.376956112, -94.75, 0), (0, 0, 270))):
            Circle(SKETCH_9_R_2, mode=Mode.SUBTRACT)
        with Locations(Location((77, -112, 0), (0, 0, 270))):
            Circle(SKETCH_9_R, mode=Mode.SUBTRACT)
        with Locations(Location((77, -104, 0), (0, 0, 270))):
            Circle(SKETCH_9_R, mode=Mode.SUBTRACT)
        with Locations(Location((77, -96, 0), (0, 0, 270))):
            Circle(SKETCH_9_R, mode=Mode.SUBTRACT)
        with Locations(Location((77, -88, 0), (0, 0, 270))):
            Circle(SKETCH_9_R, mode=Mode.SUBTRACT)
        with Locations(Location((77, -80, 0), (0, 0, 270))):
            Circle(SKETCH_9_R, mode=Mode.SUBTRACT)
        with Locations(Location((77, -72, 0), (0, 0, 270))):
            Circle(SKETCH_9_R, mode=Mode.SUBTRACT)
        with Locations(Location((77, -64, 0), (0, 0, 270))):
            Circle(SKETCH_9_R, mode=Mode.SUBTRACT)
        with Locations(Location((77, -56, 0), (0, 0, 270))):
            Circle(SKETCH_9_R, mode=Mode.SUBTRACT)
        with Locations(Location((77, -48, 0), (0, 0, 270))):
            Circle(SKETCH_9_R, mode=Mode.SUBTRACT)
        with Locations(Location((77, -40, 0), (0, 0, 270))):
            Circle(SKETCH_9_R, mode=Mode.SUBTRACT)
        with Locations(Location((77, -32, 0), (0, 0, 270))):
            Circle(SKETCH_9_R, mode=Mode.SUBTRACT)
        with Locations(Location((77, -24, 0), (0, 0, 270))):
            Circle(SKETCH_9_R, mode=Mode.SUBTRACT)
        with Locations(Location((77, -16, 0), (0, 0, 270))):
            Circle(SKETCH_9_R, mode=Mode.SUBTRACT)
    extrude(amount=EXTRUDE_7_DEPTH)

    # 草图10 → 切除-拉伸6 (cut)
    with BuildSketch(Plane(origin=(0, 4, 0), x_dir=(1, 0, 0), z_dir=(0, 1, 0)).offset(CUT_EXTRUDE_START)):
        with Locations(Location((54.376956112, -45.25, 0), (0, 0, 270))):
            Circle(SKETCH_10_R)
        with Locations(Location((44.376956112, -45.25, 0), (0, 0, 270))):
            Circle(SKETCH_10_R)
        with Locations((49.376956112, -70)):
            Rectangle(SKETCH_10_W, SKETCH_10_H)
    extrude(amount=CUT_EXTRUDE_6_DEPTH, mode=Mode.SUBTRACT)

    # 草图11 → 切除-拉伸9 (cut)
    with BuildSketch(Plane.XZ):
        with Locations((-32.375, 30.623043888)):
            Rectangle(SKETCH_11_W, SKETCH_11_H)
        with Locations((12.375, 30.623043888)):
            Rectangle(SKETCH_11_W, SKETCH_11_H)
        with Locations((49.376956112, 47.625)):
            Rectangle(SKETCH_11_W_2, SKETCH_11_H_2)
        with Locations((49.376956112, 92.375)):
            Rectangle(SKETCH_11_W_2, SKETCH_11_H_2)
        with Locations((-49.376956112, 67.625)):
            Rectangle(SKETCH_11_W_2, SKETCH_11_H_2)
        with Locations((-49.376956112, 112.375)):
            Rectangle(SKETCH_11_W_2, SKETCH_11_H_2)
    extrude(amount=-CUT_EXTRUDE_9_DEPTH, mode=Mode.SUBTRACT)

    # 草图12 → 切除-拉伸10 (cut)
    with BuildSketch(Plane.XZ):
        with Locations(Location((-46.669047558, 48.887301628, 0), (0, 0, 270))):
            Circle(SKETCH_12_R)
        with Locations(Location((-31.112698372, 126.669047558, 0), (0, 0, 270))):
            Circle(SKETCH_12_R)
        with Locations(Location((31.112698372, 126.669047558, 0), (0, 0, 270))):
            Circle(SKETCH_12_R)
        with Locations(Location((46.669047558, 111.112698372, 0), (0, 0, 270))):
            Circle(SKETCH_12_R)
        with Locations(Location((31.112698372, 33.330952442, 0), (0, 0, 270))):
            Circle(SKETCH_12_R)
    extrude(amount=-CUT_EXTRUDE_10_DEPTH, mode=Mode.SUBTRACT)


solid = part.part
